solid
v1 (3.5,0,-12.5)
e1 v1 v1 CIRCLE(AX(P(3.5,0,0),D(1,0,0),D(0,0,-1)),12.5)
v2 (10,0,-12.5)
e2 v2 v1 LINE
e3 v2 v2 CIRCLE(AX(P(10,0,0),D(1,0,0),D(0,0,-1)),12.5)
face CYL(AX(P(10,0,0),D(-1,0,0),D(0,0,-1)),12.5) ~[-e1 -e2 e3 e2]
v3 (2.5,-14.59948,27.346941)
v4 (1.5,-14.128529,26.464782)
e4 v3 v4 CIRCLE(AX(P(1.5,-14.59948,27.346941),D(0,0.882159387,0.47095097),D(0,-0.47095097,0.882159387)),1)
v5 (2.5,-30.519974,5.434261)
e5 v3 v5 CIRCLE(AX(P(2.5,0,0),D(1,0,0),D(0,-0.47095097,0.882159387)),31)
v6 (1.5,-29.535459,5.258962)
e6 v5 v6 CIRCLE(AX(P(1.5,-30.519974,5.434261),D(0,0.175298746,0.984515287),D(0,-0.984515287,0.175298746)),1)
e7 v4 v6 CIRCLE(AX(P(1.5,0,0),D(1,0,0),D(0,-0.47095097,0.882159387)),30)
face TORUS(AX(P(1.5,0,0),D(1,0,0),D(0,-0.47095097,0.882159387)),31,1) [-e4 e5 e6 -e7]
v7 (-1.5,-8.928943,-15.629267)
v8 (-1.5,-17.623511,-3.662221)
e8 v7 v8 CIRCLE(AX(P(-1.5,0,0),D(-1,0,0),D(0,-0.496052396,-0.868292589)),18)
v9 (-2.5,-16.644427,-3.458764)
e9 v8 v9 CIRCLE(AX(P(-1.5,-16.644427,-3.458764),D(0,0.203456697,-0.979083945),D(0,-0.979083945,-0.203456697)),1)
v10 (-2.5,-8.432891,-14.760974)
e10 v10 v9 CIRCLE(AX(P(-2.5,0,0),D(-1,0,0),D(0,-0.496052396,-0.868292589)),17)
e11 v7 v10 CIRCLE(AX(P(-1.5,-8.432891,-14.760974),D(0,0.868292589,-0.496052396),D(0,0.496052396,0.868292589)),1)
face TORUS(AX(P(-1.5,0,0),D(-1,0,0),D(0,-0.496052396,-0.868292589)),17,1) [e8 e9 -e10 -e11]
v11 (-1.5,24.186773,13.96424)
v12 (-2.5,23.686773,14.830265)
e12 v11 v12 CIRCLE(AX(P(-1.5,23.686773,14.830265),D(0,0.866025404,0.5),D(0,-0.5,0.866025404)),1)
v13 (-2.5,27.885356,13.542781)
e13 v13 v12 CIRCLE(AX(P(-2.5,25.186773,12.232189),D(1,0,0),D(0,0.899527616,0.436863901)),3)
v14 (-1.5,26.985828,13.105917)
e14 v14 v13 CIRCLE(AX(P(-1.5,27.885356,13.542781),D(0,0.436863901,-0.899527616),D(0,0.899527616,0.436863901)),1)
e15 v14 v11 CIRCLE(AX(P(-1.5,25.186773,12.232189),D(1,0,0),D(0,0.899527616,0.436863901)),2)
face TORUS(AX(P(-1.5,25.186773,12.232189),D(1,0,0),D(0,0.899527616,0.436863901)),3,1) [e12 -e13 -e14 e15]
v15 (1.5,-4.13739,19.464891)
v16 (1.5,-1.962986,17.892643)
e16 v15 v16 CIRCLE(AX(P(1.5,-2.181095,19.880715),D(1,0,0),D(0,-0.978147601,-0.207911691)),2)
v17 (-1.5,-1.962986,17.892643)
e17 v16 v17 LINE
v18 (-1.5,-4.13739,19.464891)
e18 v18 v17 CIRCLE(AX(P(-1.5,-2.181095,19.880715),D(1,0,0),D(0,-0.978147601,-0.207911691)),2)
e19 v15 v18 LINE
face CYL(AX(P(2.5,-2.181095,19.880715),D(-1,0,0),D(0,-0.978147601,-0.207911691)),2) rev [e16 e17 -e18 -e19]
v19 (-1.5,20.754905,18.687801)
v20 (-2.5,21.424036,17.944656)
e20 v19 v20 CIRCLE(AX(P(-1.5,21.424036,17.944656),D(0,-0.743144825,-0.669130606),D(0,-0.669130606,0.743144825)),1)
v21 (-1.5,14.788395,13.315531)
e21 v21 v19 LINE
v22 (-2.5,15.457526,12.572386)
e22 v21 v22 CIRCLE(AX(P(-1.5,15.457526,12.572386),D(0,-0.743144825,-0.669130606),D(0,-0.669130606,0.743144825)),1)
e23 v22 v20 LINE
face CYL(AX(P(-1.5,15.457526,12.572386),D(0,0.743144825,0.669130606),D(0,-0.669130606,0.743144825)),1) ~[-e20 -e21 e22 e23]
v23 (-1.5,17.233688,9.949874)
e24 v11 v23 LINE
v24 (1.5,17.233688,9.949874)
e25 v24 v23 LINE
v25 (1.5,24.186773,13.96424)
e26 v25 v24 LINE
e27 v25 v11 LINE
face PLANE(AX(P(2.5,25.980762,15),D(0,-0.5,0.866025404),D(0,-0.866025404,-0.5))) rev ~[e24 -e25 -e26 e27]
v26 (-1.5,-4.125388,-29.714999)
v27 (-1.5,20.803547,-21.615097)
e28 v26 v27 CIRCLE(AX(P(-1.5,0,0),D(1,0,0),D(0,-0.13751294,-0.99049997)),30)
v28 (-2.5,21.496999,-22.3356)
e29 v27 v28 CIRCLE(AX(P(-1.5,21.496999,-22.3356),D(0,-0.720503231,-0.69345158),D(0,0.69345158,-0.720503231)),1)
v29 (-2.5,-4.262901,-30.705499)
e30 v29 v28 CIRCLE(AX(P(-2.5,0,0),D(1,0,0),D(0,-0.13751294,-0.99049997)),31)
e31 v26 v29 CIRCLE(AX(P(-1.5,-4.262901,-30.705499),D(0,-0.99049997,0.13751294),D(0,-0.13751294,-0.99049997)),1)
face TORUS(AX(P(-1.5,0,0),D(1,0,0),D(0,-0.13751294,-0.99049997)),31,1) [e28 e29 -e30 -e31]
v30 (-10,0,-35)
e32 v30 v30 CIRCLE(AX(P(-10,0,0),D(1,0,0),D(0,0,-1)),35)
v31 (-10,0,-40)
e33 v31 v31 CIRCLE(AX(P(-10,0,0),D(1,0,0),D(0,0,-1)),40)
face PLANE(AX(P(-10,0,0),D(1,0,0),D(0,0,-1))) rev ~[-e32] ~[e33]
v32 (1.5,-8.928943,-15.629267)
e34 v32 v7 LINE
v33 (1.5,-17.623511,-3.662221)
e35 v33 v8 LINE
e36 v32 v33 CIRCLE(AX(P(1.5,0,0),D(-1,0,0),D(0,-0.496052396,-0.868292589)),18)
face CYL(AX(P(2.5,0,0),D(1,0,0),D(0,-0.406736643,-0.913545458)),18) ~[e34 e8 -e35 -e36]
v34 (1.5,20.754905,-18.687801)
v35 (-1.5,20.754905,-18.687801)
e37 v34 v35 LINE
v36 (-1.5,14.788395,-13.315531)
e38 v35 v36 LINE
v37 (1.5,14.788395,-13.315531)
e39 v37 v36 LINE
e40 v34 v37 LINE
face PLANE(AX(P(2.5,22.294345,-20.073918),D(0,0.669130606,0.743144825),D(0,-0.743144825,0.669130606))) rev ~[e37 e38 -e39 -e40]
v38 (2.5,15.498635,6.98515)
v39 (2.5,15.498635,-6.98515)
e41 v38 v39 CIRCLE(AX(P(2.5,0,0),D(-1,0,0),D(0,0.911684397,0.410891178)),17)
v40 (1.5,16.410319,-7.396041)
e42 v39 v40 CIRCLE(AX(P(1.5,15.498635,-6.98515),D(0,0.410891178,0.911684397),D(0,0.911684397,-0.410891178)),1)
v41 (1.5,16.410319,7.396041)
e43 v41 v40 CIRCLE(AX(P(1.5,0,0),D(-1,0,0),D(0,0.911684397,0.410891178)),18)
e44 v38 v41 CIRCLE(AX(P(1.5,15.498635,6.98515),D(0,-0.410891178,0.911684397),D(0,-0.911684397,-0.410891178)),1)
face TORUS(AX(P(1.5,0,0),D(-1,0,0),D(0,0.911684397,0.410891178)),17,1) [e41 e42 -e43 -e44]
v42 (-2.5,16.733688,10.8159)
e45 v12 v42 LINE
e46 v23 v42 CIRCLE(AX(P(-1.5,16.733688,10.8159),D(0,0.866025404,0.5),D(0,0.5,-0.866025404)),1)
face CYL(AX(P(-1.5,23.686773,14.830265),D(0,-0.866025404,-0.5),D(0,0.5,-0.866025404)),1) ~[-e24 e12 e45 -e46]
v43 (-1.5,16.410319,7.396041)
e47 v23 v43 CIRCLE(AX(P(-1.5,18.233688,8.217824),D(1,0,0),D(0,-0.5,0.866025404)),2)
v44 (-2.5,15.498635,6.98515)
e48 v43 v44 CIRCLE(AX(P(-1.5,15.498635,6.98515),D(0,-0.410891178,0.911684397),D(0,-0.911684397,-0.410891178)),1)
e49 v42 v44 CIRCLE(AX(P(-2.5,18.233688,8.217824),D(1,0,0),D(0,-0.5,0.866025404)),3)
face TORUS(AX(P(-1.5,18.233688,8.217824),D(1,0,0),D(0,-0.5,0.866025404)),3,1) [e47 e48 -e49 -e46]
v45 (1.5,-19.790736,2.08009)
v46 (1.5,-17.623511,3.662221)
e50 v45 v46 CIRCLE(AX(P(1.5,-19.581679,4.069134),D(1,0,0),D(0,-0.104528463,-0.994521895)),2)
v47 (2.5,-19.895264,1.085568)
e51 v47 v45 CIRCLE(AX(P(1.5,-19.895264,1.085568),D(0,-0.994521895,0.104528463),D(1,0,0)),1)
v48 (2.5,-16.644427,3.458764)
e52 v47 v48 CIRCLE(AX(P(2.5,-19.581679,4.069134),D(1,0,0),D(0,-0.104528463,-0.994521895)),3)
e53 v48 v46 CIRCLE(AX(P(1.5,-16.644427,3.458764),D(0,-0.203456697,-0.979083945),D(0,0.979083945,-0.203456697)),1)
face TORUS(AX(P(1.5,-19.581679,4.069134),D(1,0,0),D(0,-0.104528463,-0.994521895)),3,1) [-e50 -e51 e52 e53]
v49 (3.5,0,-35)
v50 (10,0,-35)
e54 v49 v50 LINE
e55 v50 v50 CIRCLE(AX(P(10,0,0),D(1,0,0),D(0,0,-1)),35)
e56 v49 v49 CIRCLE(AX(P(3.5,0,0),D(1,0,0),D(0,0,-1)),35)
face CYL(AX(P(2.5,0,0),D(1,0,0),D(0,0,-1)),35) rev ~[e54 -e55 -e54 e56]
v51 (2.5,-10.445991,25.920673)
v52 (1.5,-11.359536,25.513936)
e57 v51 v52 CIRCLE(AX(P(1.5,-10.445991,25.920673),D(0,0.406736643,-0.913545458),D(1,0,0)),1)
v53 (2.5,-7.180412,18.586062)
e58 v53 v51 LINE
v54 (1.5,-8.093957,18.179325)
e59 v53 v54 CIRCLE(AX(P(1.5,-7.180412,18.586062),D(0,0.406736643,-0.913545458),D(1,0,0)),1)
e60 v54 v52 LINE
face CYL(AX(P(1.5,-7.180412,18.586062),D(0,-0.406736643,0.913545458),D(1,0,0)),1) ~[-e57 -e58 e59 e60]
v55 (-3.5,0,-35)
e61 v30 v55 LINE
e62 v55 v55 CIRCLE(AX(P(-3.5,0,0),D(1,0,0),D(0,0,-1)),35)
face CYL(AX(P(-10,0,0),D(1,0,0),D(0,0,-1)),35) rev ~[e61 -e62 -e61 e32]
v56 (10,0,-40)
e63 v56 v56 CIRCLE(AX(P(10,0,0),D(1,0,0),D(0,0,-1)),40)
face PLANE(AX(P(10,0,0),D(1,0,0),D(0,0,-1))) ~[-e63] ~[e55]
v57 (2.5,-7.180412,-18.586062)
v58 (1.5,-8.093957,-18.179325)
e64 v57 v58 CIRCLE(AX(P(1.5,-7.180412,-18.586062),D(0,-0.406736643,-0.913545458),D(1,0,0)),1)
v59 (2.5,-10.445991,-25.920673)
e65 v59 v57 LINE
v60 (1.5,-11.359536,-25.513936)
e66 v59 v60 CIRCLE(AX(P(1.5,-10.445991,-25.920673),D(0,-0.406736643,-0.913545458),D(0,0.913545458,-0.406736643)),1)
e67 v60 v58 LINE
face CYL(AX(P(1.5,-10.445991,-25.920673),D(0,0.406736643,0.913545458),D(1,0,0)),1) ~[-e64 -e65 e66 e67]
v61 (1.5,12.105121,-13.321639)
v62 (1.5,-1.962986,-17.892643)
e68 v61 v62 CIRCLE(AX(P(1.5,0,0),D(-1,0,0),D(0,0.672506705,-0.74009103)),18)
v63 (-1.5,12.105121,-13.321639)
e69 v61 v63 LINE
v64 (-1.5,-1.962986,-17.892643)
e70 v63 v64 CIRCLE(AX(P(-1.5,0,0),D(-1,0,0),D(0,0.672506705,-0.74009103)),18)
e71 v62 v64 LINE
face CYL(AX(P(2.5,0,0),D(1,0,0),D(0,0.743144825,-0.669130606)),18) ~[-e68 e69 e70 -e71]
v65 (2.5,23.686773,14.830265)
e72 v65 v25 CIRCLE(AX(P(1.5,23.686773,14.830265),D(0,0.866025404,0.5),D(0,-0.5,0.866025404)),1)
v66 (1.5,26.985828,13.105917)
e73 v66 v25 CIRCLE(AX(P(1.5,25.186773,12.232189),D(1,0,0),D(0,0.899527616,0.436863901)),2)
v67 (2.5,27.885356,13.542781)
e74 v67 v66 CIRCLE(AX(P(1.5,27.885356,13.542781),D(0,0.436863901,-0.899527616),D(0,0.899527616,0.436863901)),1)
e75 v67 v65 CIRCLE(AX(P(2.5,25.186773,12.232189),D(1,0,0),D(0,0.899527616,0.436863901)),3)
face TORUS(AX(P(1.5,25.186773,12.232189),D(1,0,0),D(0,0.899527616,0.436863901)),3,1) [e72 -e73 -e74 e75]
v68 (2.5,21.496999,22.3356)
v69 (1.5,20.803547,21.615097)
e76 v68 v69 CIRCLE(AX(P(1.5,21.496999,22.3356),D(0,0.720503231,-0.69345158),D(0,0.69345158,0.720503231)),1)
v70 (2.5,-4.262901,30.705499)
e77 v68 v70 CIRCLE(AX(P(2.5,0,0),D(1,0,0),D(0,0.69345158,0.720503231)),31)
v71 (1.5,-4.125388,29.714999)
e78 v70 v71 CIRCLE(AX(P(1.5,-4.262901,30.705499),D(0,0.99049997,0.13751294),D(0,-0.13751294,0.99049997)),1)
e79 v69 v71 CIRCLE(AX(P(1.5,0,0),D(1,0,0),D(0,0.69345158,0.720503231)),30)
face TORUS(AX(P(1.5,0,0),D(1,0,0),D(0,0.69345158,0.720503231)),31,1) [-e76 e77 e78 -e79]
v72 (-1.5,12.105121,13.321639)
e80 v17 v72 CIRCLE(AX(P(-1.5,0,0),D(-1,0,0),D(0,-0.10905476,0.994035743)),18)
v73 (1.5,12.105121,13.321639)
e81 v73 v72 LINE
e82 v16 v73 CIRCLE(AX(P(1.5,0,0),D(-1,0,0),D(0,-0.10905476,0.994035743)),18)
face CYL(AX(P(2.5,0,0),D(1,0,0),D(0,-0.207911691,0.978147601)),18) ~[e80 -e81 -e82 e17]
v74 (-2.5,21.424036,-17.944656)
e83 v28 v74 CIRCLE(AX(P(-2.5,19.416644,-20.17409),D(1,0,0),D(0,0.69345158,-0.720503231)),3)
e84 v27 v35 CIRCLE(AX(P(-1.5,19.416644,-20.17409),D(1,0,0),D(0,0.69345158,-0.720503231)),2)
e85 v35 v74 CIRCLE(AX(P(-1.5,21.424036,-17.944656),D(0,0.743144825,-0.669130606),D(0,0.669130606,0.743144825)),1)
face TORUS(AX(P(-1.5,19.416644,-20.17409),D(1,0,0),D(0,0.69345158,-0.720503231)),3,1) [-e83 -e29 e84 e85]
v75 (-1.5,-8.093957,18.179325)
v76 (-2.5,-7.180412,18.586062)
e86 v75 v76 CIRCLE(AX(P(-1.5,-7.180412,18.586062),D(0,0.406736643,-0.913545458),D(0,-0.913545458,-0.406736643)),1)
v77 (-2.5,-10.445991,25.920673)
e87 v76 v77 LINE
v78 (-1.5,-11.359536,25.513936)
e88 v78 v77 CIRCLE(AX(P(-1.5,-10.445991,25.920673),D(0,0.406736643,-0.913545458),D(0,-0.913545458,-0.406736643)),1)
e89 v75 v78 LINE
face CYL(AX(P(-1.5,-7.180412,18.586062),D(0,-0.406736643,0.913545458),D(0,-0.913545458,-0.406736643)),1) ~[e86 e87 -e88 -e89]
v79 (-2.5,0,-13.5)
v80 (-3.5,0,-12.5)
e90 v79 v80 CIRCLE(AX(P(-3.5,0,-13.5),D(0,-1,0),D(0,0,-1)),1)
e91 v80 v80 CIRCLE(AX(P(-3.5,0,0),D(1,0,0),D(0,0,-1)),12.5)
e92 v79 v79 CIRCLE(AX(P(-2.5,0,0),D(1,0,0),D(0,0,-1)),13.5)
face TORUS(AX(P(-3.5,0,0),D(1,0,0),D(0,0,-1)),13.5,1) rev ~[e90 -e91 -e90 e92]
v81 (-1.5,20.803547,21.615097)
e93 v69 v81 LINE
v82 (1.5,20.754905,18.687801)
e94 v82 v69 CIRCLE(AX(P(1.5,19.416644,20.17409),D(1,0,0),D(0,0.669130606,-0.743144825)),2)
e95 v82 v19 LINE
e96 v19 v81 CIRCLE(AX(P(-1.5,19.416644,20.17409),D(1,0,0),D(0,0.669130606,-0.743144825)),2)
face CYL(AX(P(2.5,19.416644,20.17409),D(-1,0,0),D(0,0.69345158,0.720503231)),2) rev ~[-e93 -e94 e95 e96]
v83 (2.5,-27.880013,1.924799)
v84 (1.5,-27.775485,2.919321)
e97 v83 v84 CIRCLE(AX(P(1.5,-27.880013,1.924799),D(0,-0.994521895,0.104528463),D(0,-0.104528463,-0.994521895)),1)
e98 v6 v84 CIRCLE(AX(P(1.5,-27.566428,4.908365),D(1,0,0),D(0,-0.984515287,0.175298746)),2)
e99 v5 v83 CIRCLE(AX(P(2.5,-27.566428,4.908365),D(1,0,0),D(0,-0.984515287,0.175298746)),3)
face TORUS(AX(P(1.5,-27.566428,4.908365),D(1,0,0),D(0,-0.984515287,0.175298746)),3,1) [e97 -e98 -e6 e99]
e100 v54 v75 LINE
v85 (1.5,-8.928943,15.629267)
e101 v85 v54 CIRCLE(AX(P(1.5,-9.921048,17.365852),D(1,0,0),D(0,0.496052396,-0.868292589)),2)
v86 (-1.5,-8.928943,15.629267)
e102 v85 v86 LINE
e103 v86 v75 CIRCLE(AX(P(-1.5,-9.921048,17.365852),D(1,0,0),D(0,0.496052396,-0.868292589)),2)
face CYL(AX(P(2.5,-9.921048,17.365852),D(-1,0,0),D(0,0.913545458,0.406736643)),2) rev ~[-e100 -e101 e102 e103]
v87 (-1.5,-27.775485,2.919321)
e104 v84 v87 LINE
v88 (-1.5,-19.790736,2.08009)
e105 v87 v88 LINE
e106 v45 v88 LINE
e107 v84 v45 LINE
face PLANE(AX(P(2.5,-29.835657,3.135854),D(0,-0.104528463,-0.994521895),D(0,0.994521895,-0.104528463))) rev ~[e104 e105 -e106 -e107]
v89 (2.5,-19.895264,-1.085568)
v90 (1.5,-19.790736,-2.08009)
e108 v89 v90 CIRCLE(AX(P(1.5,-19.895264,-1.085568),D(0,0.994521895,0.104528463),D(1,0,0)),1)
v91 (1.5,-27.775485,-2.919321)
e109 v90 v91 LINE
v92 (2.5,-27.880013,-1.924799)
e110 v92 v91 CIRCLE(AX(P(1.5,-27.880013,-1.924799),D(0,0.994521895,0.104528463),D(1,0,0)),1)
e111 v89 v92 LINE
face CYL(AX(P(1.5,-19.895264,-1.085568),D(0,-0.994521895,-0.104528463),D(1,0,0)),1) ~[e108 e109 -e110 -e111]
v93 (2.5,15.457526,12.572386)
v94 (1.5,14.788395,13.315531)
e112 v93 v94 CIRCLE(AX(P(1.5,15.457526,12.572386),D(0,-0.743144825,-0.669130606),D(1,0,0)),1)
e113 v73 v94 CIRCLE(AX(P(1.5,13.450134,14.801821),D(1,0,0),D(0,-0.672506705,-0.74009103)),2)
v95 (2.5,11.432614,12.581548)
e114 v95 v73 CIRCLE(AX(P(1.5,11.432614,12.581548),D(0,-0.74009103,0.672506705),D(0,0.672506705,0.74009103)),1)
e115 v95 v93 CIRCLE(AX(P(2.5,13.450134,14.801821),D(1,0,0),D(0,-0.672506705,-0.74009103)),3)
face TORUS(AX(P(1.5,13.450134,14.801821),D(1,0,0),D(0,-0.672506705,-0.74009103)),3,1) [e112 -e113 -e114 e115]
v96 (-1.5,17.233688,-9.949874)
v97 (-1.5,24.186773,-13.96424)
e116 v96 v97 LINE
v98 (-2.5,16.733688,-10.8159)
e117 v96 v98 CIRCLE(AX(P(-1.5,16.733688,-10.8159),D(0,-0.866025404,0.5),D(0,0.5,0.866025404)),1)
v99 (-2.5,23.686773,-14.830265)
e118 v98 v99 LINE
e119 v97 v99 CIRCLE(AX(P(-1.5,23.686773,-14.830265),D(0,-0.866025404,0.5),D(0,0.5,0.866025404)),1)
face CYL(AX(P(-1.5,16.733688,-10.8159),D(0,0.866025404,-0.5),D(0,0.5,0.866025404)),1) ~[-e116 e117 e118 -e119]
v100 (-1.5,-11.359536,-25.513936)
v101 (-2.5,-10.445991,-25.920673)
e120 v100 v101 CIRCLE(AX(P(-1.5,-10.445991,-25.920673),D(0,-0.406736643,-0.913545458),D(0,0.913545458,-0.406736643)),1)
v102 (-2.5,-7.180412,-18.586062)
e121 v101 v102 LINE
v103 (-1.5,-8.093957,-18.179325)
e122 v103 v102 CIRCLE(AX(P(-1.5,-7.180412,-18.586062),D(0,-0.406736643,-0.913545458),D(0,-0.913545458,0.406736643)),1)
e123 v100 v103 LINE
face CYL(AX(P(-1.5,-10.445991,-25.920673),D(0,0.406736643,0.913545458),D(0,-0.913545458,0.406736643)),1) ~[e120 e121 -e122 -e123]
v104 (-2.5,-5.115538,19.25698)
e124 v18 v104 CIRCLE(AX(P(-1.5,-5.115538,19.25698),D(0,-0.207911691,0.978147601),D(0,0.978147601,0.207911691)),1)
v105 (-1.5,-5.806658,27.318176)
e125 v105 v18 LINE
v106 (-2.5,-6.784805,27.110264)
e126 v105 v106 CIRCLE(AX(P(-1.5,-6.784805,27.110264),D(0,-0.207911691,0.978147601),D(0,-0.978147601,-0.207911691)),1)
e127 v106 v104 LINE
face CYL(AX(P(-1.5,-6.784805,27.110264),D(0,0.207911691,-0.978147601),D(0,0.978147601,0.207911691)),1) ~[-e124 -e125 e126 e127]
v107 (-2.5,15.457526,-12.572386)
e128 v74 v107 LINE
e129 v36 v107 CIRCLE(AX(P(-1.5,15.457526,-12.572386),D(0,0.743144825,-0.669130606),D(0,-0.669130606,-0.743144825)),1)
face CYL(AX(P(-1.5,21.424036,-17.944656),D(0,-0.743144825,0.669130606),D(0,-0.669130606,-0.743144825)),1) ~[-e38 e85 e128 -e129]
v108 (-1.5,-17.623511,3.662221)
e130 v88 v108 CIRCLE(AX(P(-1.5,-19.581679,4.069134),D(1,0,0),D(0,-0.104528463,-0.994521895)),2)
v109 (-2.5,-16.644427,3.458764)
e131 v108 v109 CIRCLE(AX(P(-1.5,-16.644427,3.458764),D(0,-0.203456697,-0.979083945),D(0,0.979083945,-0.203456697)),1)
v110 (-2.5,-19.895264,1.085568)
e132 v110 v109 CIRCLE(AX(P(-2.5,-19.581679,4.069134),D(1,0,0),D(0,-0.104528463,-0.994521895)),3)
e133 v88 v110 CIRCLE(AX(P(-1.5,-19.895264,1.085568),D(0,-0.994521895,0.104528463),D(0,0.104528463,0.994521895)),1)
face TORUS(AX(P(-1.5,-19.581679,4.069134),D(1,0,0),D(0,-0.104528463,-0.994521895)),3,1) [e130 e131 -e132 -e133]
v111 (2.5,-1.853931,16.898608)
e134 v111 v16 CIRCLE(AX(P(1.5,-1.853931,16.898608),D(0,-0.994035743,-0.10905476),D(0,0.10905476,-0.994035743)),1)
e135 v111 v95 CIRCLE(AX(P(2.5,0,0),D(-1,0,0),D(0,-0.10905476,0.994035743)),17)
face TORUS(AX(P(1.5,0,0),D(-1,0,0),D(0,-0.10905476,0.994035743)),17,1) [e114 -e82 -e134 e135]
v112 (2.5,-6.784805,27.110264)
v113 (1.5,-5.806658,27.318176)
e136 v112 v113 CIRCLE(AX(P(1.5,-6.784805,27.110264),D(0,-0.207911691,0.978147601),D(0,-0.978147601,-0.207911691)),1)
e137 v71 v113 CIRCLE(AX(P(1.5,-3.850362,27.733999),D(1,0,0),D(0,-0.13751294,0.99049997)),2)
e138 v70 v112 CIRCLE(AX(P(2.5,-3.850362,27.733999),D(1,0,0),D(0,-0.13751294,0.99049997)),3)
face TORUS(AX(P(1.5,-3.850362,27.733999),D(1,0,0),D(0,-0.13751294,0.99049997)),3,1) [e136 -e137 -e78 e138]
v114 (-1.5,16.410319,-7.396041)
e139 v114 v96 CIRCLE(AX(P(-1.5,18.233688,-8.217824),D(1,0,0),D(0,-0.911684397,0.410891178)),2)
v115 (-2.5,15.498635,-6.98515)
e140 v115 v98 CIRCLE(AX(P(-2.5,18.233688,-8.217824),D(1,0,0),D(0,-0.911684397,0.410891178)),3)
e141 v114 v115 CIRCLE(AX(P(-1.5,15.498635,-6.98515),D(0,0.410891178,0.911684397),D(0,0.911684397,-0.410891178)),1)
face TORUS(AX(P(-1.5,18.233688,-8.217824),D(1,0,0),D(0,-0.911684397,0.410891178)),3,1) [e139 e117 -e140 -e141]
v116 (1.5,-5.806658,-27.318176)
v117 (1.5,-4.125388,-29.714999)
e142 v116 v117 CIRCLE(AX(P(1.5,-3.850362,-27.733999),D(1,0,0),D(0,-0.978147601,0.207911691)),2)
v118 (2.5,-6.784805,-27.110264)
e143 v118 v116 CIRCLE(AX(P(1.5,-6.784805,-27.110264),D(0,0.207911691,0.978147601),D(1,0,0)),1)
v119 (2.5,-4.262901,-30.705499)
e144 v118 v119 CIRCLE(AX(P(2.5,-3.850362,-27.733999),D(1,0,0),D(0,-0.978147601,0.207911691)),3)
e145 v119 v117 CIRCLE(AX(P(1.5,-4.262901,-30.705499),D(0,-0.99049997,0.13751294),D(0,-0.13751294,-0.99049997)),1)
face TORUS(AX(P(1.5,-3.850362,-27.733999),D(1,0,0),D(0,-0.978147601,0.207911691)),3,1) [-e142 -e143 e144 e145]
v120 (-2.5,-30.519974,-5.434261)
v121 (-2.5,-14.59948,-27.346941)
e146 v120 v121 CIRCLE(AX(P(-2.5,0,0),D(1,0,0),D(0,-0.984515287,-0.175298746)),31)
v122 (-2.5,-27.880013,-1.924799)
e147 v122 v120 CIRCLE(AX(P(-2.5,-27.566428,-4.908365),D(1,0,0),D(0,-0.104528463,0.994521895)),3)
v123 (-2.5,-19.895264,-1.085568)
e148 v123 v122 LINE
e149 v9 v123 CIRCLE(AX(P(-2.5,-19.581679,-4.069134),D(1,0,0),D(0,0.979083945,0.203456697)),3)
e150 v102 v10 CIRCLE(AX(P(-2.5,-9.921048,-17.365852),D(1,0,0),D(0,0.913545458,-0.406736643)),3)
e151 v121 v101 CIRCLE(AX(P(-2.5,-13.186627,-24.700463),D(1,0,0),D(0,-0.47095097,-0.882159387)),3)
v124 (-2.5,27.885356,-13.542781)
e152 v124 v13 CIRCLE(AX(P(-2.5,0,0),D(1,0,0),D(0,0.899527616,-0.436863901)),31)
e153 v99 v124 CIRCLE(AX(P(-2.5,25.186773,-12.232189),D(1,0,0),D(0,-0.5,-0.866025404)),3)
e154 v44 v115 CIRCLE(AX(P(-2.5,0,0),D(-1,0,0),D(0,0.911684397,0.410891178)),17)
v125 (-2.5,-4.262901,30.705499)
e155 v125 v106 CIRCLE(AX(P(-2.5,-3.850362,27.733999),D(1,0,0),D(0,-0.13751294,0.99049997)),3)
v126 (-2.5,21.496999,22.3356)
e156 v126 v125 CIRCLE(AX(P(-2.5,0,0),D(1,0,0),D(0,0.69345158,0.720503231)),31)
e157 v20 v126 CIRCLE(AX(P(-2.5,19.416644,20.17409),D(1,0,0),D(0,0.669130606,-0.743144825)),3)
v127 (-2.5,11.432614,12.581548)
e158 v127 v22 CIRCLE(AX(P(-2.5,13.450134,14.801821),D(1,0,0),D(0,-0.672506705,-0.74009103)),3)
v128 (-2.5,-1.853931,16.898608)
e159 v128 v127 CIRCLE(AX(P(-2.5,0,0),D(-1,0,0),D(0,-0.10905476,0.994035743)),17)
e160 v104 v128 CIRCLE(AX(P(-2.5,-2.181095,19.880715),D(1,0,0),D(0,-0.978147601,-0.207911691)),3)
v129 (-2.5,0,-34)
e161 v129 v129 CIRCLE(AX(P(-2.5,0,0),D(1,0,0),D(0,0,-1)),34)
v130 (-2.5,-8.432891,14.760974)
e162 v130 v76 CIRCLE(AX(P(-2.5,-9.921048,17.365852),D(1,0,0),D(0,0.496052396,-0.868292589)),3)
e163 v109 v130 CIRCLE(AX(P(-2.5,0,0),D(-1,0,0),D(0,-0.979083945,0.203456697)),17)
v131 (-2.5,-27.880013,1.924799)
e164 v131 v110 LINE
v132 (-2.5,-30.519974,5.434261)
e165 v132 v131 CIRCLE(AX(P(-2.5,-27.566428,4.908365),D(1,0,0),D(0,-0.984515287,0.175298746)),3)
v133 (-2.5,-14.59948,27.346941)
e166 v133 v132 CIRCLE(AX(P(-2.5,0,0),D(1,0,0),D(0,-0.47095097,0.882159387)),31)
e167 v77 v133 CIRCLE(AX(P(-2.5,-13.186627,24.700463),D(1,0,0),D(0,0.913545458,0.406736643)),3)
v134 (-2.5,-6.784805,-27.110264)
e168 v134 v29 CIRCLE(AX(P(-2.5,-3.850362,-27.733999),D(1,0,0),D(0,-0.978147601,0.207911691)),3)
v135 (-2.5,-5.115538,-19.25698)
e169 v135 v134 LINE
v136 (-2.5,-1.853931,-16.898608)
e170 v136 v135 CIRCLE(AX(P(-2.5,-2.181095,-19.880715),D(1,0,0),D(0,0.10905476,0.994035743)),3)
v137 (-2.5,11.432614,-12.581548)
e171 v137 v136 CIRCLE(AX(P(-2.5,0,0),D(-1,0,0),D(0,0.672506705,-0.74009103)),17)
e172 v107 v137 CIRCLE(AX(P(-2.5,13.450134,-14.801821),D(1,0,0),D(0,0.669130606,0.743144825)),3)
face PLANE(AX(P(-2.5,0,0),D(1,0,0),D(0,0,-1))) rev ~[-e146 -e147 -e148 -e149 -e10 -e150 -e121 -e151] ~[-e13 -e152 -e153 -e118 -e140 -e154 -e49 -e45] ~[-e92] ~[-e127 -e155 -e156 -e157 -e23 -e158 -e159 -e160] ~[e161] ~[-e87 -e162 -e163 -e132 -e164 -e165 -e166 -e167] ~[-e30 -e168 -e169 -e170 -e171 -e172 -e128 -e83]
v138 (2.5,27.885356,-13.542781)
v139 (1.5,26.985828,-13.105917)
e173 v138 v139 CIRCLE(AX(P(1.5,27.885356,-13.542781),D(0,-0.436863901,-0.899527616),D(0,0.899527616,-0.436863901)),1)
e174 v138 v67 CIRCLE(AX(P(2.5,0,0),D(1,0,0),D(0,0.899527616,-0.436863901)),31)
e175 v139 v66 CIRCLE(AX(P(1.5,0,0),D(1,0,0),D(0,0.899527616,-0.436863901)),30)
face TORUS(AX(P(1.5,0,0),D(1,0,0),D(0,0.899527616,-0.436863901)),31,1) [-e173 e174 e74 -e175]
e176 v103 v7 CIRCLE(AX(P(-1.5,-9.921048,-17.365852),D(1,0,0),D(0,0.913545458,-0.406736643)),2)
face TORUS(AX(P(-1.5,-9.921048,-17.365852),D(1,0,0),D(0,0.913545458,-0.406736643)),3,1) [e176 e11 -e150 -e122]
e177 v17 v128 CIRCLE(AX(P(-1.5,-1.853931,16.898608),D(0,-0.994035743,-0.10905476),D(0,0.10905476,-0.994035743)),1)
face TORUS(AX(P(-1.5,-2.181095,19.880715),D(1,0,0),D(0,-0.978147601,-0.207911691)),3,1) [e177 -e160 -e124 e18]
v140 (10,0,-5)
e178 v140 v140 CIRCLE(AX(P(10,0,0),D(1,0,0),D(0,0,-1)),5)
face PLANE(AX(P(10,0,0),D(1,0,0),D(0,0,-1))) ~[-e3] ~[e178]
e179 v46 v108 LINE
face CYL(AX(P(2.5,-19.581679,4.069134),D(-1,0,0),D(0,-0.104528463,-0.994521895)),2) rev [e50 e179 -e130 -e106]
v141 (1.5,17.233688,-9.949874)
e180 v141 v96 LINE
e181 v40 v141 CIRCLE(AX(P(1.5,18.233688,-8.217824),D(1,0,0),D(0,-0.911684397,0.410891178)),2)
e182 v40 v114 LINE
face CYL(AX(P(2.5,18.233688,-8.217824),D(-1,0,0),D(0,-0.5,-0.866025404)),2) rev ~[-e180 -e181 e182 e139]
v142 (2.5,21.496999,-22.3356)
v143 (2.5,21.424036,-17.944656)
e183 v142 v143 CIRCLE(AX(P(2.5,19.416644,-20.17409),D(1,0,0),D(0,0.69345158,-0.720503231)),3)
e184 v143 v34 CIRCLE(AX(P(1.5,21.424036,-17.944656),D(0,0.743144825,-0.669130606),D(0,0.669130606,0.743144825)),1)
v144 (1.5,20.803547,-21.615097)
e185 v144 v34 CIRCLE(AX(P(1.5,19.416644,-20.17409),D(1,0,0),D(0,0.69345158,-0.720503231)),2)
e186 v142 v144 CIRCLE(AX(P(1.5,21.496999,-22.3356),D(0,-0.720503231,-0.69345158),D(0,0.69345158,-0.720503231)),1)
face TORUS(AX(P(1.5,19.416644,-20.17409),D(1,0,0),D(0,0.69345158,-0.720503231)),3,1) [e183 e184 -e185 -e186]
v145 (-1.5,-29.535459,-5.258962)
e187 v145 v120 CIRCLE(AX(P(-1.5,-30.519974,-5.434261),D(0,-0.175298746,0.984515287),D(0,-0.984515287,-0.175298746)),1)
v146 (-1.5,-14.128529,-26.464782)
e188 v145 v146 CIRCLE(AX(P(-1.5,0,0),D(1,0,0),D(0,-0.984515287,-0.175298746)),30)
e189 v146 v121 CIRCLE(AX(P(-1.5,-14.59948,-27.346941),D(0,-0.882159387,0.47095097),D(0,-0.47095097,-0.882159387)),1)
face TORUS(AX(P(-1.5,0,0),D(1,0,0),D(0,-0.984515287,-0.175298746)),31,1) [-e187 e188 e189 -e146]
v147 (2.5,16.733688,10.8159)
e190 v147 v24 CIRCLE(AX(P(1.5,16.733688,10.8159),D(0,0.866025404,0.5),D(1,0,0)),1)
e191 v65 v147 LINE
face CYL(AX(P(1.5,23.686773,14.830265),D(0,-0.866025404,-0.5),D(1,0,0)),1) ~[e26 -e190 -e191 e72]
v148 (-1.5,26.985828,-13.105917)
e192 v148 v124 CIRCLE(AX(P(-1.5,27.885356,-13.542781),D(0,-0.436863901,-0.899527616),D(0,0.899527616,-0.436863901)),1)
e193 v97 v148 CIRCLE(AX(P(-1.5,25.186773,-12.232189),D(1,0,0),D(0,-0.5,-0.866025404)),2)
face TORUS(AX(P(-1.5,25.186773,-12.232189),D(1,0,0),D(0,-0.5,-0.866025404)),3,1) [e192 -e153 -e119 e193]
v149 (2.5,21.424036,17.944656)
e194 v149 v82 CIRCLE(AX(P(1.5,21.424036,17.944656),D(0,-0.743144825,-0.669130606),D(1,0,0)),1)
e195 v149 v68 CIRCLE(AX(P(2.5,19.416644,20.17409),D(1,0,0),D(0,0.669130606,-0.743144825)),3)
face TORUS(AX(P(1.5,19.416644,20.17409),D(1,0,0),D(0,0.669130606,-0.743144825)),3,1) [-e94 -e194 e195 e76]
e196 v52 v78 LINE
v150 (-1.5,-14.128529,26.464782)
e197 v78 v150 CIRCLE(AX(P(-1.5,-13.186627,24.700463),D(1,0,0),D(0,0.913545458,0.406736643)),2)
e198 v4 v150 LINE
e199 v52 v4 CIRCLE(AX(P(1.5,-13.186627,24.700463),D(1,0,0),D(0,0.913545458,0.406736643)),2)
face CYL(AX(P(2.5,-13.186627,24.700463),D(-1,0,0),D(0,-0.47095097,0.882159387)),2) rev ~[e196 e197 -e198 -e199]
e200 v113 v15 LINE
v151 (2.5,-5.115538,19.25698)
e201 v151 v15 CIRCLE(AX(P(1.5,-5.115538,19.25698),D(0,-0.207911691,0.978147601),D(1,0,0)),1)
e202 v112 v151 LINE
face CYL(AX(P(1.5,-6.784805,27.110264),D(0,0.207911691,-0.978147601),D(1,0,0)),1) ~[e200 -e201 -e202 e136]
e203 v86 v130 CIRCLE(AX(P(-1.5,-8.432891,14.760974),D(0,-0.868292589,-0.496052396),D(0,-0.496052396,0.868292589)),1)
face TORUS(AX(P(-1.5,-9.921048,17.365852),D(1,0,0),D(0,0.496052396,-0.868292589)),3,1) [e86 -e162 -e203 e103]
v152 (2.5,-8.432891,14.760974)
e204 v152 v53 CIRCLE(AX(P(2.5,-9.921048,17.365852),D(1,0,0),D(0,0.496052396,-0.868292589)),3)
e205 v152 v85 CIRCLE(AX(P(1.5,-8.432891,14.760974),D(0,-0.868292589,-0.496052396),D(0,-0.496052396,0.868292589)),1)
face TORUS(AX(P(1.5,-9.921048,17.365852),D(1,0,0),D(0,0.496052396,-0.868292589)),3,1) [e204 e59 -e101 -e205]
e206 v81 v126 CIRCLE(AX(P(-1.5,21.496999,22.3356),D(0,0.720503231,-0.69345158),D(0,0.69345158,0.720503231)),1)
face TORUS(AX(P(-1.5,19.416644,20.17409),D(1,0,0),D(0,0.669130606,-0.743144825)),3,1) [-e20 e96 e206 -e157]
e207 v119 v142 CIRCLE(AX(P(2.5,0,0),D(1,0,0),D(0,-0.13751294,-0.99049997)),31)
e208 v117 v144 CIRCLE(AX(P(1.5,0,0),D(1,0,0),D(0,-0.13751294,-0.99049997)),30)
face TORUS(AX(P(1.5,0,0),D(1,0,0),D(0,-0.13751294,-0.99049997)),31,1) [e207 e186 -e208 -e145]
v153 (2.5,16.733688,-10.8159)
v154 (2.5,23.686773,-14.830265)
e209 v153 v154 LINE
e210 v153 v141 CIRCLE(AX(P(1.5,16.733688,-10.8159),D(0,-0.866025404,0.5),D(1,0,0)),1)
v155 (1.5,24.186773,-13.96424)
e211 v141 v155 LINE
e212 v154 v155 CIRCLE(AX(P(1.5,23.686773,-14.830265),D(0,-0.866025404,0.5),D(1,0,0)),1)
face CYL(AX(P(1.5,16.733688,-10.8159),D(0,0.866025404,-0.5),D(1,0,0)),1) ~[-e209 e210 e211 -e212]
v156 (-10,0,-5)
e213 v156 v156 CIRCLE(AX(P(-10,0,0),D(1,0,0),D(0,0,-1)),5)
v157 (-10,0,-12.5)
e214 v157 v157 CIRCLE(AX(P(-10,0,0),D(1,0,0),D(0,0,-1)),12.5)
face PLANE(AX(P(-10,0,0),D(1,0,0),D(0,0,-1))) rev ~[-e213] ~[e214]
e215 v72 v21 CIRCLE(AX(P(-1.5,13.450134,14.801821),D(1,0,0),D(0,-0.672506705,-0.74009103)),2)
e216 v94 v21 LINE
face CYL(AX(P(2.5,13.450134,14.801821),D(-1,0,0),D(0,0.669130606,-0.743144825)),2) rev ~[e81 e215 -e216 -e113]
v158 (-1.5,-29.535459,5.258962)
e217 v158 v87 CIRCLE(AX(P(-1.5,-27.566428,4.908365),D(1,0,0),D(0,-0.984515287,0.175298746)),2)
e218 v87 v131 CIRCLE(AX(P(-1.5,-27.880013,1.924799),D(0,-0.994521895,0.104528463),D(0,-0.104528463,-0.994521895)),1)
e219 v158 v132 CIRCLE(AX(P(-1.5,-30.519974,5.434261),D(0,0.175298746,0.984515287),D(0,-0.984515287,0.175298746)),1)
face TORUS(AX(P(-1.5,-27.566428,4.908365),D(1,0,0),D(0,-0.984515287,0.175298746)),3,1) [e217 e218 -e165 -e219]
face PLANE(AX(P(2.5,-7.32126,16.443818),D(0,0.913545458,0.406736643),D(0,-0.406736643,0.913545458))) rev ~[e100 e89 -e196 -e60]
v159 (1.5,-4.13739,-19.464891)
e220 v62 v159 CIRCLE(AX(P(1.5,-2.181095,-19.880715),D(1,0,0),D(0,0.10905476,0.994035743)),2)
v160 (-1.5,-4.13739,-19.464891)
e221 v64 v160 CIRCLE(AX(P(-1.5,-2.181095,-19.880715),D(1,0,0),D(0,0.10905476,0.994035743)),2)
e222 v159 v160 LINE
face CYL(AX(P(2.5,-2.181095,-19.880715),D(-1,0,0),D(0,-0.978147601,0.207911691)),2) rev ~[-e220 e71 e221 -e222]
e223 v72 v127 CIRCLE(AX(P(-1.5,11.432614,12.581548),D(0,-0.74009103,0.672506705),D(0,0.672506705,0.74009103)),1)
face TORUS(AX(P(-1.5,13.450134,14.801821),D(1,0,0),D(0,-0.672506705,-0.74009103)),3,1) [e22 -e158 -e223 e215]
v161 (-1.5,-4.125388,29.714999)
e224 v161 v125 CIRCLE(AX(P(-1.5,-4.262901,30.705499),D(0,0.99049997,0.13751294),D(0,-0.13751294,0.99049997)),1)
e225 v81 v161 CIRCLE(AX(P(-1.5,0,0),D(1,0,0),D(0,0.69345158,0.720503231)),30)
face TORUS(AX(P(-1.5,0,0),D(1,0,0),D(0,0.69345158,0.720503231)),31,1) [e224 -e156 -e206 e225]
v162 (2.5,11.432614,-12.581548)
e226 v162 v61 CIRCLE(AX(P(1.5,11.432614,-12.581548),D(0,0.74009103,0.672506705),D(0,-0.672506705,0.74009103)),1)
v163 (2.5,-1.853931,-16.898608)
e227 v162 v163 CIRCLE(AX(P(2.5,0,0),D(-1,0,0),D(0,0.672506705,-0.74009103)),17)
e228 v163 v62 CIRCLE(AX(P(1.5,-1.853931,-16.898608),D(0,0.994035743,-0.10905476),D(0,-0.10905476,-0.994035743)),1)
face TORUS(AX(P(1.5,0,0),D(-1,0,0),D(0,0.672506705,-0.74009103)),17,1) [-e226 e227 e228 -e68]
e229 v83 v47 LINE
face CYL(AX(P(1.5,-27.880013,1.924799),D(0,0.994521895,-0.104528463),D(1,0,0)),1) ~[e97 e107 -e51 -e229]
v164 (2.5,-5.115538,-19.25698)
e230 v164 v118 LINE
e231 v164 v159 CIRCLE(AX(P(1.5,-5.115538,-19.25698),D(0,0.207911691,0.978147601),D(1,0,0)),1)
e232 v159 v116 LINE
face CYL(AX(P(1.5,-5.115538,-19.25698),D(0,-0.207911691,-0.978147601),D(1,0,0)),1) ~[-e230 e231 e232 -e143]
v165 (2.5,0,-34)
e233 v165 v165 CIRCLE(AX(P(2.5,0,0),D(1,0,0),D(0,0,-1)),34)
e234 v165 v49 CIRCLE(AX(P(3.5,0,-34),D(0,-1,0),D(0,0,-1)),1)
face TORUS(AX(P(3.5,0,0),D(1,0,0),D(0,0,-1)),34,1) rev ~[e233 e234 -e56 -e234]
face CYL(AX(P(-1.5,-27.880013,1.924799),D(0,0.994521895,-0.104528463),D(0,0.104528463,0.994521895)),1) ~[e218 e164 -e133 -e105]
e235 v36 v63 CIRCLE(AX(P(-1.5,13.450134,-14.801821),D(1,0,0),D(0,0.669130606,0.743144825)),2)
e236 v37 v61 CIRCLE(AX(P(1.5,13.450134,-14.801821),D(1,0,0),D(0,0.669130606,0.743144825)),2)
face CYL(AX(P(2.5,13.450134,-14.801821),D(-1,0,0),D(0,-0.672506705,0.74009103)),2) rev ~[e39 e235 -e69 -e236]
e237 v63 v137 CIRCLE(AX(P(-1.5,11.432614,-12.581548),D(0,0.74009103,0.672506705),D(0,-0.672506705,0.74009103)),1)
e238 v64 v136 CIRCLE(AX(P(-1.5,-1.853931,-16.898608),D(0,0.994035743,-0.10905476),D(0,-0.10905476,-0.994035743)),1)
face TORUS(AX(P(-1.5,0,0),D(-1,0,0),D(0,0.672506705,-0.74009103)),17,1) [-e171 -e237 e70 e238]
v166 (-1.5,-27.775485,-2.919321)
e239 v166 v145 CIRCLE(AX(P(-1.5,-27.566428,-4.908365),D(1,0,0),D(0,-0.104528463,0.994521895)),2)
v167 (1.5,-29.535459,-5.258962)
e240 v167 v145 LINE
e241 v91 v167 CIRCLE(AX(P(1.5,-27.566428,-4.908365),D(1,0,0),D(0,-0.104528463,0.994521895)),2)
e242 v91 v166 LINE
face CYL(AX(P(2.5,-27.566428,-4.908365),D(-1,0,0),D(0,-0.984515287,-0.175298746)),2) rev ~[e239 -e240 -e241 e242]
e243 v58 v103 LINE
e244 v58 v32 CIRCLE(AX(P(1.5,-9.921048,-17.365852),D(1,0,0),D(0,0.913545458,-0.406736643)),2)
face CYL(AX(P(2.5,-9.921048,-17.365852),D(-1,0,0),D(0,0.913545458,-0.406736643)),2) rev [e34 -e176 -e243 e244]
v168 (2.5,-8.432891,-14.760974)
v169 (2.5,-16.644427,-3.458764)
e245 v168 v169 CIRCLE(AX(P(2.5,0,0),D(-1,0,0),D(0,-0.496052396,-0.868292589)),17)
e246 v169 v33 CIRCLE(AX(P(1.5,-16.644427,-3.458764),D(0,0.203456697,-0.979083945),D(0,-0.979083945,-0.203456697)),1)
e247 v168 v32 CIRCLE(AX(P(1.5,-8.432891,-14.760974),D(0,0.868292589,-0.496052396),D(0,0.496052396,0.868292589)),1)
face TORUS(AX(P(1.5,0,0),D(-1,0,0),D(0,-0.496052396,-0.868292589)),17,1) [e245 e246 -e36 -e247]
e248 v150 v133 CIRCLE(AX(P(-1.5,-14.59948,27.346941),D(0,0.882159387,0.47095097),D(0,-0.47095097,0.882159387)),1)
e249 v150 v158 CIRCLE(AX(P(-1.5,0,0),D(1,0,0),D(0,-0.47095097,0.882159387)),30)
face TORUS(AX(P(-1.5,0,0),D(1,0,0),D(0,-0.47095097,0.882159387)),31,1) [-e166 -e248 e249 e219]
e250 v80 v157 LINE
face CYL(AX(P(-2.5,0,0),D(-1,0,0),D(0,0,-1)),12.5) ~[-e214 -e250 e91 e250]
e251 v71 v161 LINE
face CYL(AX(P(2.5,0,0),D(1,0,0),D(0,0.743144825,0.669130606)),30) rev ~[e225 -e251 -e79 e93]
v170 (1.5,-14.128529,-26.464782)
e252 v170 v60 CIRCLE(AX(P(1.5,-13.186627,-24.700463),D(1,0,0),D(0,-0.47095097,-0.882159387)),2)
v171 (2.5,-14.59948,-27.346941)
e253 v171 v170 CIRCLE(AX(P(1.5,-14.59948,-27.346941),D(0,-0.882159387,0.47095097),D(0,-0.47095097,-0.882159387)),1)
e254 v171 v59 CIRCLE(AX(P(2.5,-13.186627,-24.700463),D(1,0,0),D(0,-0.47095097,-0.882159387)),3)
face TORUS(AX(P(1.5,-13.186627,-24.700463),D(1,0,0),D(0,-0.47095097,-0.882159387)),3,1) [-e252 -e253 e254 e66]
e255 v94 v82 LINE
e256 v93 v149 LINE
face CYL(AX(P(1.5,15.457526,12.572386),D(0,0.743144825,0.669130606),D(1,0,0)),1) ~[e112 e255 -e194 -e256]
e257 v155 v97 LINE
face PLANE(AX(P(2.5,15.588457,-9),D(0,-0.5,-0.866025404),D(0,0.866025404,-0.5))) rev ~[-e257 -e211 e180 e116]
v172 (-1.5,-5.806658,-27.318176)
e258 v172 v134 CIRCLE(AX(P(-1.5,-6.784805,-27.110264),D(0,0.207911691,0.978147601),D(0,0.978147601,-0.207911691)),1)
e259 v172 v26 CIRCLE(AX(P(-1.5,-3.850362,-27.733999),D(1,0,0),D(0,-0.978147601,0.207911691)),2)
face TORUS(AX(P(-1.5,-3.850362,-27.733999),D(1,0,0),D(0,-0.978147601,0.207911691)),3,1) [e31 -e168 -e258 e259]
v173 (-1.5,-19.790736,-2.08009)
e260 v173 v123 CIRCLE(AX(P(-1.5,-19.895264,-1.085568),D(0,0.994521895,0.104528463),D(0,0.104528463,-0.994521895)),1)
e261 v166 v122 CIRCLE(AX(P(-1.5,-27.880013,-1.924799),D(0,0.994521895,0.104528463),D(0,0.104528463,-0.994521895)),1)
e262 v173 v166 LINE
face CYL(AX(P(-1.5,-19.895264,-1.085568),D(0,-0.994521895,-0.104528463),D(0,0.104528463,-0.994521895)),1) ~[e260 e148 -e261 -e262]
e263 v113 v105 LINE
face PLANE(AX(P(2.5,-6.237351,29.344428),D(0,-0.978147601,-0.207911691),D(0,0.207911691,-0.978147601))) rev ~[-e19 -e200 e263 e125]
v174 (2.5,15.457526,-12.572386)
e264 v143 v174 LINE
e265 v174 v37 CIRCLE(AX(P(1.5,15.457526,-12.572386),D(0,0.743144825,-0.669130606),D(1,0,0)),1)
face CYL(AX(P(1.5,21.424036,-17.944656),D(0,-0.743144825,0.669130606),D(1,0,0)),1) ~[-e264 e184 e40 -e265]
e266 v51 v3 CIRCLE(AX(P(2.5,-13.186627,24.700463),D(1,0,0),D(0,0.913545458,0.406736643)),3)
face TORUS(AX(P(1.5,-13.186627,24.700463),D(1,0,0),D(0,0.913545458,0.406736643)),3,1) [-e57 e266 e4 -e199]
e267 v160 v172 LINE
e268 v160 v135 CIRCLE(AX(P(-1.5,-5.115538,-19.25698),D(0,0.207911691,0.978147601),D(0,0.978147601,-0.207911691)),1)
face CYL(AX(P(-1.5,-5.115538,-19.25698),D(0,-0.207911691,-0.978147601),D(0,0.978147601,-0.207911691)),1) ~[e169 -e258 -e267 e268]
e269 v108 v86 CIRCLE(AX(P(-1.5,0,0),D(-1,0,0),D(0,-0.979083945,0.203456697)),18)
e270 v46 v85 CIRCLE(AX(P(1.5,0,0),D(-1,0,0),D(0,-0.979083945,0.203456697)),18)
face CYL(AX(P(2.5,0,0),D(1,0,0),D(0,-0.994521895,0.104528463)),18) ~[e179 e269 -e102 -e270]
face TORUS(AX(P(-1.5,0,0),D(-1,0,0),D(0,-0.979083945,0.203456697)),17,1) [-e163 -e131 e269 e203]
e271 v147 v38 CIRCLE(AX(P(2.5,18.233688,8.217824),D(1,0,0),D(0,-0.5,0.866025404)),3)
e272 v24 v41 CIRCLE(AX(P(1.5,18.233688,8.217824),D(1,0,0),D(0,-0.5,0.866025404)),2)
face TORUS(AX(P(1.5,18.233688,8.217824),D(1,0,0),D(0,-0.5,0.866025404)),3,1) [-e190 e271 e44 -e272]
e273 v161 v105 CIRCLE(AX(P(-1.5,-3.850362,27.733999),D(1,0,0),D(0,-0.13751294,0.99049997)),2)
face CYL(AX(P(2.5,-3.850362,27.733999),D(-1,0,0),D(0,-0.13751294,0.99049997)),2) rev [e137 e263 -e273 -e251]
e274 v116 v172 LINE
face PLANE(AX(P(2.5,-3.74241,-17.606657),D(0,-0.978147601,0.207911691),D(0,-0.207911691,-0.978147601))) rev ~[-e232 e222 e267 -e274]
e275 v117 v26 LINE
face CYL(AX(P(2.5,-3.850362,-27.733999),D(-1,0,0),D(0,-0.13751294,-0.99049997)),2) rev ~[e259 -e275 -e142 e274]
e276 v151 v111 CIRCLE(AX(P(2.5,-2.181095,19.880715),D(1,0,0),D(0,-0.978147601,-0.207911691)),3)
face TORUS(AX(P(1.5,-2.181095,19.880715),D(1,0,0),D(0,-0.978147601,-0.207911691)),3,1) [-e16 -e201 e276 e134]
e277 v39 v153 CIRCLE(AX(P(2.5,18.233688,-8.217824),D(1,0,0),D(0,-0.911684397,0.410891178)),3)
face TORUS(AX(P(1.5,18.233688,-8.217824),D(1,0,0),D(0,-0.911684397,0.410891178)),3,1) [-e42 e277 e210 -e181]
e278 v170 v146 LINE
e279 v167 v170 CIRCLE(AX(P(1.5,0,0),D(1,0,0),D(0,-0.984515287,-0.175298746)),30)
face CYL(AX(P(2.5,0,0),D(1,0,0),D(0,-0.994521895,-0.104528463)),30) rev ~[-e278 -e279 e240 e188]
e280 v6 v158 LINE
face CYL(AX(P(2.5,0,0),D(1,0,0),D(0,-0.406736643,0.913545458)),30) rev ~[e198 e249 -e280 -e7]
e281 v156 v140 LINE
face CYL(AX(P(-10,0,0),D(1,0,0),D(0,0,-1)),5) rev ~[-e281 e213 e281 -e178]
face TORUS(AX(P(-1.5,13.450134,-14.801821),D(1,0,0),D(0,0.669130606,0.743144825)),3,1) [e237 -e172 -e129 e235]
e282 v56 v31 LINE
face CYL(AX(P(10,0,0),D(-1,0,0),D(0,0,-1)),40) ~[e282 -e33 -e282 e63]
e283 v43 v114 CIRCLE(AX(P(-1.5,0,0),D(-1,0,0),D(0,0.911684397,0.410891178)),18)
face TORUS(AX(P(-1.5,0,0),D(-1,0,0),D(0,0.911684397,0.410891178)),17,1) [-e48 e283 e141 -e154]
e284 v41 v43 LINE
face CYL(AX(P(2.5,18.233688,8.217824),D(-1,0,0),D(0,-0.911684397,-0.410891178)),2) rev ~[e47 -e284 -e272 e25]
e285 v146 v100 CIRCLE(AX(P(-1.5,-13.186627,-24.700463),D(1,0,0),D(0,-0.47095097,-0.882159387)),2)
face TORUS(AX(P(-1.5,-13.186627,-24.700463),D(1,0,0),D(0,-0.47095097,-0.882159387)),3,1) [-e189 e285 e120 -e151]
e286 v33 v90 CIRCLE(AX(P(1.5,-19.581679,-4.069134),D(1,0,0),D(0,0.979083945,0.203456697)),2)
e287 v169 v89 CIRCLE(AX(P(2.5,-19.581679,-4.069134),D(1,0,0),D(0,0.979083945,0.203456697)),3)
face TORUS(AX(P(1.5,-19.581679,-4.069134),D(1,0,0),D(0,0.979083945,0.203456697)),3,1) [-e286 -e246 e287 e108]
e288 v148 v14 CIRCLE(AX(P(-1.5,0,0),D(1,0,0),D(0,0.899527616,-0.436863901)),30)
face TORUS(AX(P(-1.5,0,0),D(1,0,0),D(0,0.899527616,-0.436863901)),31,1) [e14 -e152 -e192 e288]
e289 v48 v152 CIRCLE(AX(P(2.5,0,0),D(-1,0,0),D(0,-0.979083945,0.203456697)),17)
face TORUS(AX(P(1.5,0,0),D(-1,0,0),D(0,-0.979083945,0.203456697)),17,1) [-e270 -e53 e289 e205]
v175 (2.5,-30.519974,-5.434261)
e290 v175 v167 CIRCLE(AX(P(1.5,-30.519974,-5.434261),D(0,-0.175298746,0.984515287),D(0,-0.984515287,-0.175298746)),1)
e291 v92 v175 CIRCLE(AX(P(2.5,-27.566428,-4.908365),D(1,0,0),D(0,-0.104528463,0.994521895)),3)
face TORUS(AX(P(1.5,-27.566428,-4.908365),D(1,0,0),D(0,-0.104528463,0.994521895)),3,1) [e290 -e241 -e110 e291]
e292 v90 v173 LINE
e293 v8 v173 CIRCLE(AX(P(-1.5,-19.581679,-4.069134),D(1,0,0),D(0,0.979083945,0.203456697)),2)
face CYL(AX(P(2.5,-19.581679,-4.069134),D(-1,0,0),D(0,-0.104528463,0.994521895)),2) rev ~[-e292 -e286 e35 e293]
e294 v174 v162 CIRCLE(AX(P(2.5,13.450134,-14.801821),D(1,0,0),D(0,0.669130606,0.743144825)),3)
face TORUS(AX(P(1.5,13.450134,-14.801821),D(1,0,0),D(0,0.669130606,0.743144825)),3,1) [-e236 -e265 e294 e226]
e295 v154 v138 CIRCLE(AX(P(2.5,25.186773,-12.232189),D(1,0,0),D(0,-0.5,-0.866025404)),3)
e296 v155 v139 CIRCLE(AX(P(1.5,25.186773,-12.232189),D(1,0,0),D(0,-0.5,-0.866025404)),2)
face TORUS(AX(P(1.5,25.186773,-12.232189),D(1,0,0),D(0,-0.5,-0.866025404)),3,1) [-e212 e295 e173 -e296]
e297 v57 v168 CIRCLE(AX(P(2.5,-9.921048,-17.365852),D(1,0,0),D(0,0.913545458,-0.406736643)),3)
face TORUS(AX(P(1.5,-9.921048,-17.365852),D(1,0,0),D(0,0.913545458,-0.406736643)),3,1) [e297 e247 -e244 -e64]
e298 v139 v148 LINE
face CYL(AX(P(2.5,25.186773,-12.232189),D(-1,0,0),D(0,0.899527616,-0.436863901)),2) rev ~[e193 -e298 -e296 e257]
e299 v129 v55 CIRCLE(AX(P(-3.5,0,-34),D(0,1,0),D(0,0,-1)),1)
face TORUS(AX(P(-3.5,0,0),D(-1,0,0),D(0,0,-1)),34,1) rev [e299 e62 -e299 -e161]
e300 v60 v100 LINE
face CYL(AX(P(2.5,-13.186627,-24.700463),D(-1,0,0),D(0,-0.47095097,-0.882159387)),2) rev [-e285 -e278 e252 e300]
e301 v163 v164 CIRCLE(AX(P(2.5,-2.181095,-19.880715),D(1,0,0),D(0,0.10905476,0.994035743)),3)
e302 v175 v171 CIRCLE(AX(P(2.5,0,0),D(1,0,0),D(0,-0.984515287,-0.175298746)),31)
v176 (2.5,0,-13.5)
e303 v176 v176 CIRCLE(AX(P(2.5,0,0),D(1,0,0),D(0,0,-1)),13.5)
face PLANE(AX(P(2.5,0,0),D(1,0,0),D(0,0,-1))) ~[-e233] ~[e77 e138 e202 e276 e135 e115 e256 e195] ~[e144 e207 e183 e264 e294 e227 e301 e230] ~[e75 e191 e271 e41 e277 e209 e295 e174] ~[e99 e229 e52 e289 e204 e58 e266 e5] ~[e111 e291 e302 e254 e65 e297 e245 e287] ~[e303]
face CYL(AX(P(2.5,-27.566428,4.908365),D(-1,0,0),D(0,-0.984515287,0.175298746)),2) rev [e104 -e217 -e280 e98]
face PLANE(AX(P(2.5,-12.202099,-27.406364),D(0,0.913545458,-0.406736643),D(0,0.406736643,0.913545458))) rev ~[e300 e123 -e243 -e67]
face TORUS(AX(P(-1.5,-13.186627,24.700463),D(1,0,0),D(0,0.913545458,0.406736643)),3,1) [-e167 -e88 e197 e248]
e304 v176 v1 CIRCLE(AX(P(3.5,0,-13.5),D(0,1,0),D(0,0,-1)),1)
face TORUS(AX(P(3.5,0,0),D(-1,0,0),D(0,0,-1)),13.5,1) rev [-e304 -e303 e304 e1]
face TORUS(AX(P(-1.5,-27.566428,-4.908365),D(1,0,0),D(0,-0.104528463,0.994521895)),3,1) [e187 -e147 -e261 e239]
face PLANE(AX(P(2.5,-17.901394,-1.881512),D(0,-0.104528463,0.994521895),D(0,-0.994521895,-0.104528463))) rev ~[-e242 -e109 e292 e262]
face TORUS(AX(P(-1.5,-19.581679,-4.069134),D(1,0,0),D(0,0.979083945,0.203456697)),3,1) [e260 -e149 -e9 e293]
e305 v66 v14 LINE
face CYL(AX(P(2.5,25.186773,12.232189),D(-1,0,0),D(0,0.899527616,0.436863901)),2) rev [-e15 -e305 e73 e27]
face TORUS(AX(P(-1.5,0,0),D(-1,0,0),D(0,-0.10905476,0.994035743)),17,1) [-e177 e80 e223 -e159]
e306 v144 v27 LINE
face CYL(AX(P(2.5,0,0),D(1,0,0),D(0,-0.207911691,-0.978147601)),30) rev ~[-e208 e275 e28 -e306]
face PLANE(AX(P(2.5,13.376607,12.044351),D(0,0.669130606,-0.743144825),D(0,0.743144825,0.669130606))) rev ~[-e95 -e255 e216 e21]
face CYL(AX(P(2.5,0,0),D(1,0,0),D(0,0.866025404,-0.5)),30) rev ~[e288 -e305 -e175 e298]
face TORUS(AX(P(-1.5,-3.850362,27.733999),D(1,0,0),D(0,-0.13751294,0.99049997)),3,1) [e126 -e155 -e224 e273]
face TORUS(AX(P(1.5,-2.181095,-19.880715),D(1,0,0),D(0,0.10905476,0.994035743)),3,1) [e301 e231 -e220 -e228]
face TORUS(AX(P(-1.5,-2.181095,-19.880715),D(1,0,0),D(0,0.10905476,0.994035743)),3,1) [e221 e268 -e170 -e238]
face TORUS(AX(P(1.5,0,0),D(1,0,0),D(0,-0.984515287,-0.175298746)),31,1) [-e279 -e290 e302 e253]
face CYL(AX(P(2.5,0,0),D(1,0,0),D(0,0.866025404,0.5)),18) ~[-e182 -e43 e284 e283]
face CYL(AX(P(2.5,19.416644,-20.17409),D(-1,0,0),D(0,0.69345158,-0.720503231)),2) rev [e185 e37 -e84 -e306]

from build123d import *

# Parameters (mm, degrees)
CUT_EXTRUDE2_DEPTH       = 13.5
FILLET2_R                = 2
CIRPATTERN1_COUNT        = 5
FILLET2_OF_CIRPATTERN1_R = 2
FILLET3_R                = 1


with BuildPart() as part:
    # Sketch1 → Revolve1 (revolve)
    with BuildSketch(Plane(origin=(0, 0, 0), x_dir=(1, 0, 0), z_dir=(0, 1, 0))):
        Polygon((2.5, 35), (10, 35), (10, 40), (-10, 40), (-10, 35), (-2.5, 35), (-2.5, 12.5), (-10, 12.5), (-10, 5), (10, 5), (10, 12.5), (2.5, 12.5), align=None)
    revolve(axis=Axis((0, 0, 0), (1, 0, 0)))

    # Sketch4 → Cut-Extrude2 (cut, through all)
    with BuildSketch(Plane(origin=(2.5, 0, 0), x_dir=(0, 0, -1), z_dir=(1, 0, 0))):
        with BuildLine():
            Line((-15, 25.980762114), (-9, 15.588457268))
            ThreePointArc((-9, 15.588457268), (0, 18), (9, 15.588457268))
            Line((9, 15.588457268), (15, 25.980762114))
            ThreePointArc((15, 25.980762114), (0, 30), (-15, 25.980762114))
        make_face()
    cut_extrude2 = extrude(amount=-CUT_EXTRUDE2_DEPTH, mode=Mode.SUBTRACT)

    # Fillet2
    fillet2_edges = [part.edges().sort_by_distance(p)[0] for p in [
        (0, 15.588457268, -9),
        (0, 15.588457268, 9),
        (0, 25.980762114, 15),
        (0, 25.980762114, -15),
    ]]
    fillet(fillet2_edges, radius=FILLET2_R)

    # CirPattern1: Cut-Extrude2 ×5 about axis
    cirpattern1_axis = Axis((0, 0, 0), (1, 0, 0))
    for i in range(1, CIRPATTERN1_COUNT):
        add(cut_extrude2.rotate(cirpattern1_axis, i * 360 / CIRPATTERN1_COUNT), mode=Mode.SUBTRACT)

    # Fillet2 of CirPattern1
    fillet2_of_cirpattern1_edges = [part.edges().sort_by_distance(p)[0] for p in [
        (0, 13.376606859, 12.044350914),
        (0, -3.742410435, 17.606656813),
        (0, -6.237350725, 29.344428022),
        (0, 22.294344764, 20.073918191),
        (0, -7.321259575, 16.443818238),
        (0, -17.901394117, 1.881512339),
        (0, -29.835656861, 3.135853898),
        (0, -12.202099292, 27.406363729),
        (0, -17.901394117, -1.881512339),
        (0, -7.321259575, -16.443818238),
        (0, -12.202099292, -27.406363729),
        (0, -29.835656861, -3.135853898),
        (0, -3.742410435, -17.606656813),
        (0, 13.376606859, -12.044350914),
        (0, 22.294344764, -20.073918191),
        (0, -6.237350725, -29.344428022),
    ]]
    fillet(fillet2_of_cirpattern1_edges, radius=FILLET2_OF_CIRPATTERN1_R)

    # Fillet3
    fillet3_edges = [part.edges().sort_by_distance(p)[0] for p in [
        (2.5, 0, 35),
        (2.5, 0, 12.5),
        (-2.5, 0, 12.5),
        (-2.5, 0, 35),
        (2.5, -4.972023962, -23.391533639),
        (-2.5, -4.972023962, -23.391533639),
        (2.5, 5.562305899, -17.119017293),
        (-2.5, 5.562305899, -17.119017293),
        (2.5, 17.771650383, -16.001665879),
        (-2.5, 17.771650383, -16.001665879),
        (-2.5, 9.270509831, -28.531695489),
        (2.5, 9.270509831, -28.531695489),
        (2.5, -3.352979753, -18.260009279),
        (-2.5, -3.352979753, -18.260009279),
        (2.5, 13.445581763, -12.801825774),
        (-2.5, 13.445581763, -12.801825774),
        (2.5, -5.487704354, -28.882524769),
        (-2.5, -5.487704354, -28.882524769),
        (2.5, 21.416368191, -20.14086169),
        (-2.5, 21.416368191, -20.14086169),
        (2.5, -23.783110394, -2.49970563),
        (-2.5, -23.783110394, -2.49970563),
        (2.5, -14.562305899, -10.580134541),
        (-2.5, -14.562305899, -10.580134541),
        (2.5, -9.726746619, -21.846630597),
        (-2.5, -9.726746619, -21.846630597),
        (-2.5, -24.270509831, -17.633557569),
        (2.5, -24.270509831, -17.633557569),
        (2.5, -18.402428538, -2.453779941),
        (-2.5, -18.402428538, -2.453779941),
        (2.5, -8.020346559, -16.743489875),
        (-2.5, -8.020346559, -16.743489875),
        (2.5, -29.164707294, -3.706074009),
        (-2.5, -29.164707294, -3.706074009),
        (2.5, -12.537076026, -26.592045067),
        (-2.5, -12.537076026, -26.592045067),
        (2.5, -9.726746619, 21.846630597),
        (-2.5, -9.726746619, 21.846630597),
        (2.5, -14.562305899, 10.580134541),
        (-2.5, -14.562305899, 10.580134541),
        (2.5, -23.783110394, 2.49970563),
        (-2.5, -23.783110394, 2.49970563),
        (-2.5, -24.270509831, 17.633557569),
        (2.5, -24.270509831, 17.633557569),
        (2.5, -8.020346559, 16.743489875),
        (-2.5, -8.020346559, 16.743489875),
        (2.5, -18.402428538, 2.453779941),
        (-2.5, -18.402428538, 2.453779941),
        (2.5, -12.537076026, 26.592045067),
        (-2.5, -12.537076026, 26.592045067),
        (2.5, -29.164707294, 3.706074009),
        (-2.5, -29.164707294, 3.706074009),
        (2.5, 17.771650383, 16.001665879),
        (-2.5, 17.771650383, 16.001665879),
        (2.5, 5.562305899, 17.119017293),
        (-2.5, 5.562305899, 17.119017293),
        (2.5, -4.972023962, 23.391533639),
        (-2.5, -4.972023962, 23.391533639),
        (-2.5, 9.270509831, 28.531695489),
        (2.5, 9.270509831, 28.531695489),
        (2.5, 13.445581763, 12.801825774),
        (-2.5, 13.445581763, 12.801825774),
        (2.5, -3.352979753, 18.260009279),
        (-2.5, -3.352979753, 18.260009279),
        (2.5, 21.416368191, 20.14086169),
        (-2.5, 21.416368191, 20.14086169),
        (2.5, -5.487704354, 28.882524769),
        (-2.5, -5.487704354, 28.882524769),
        (2.5, 20.710230592, -11.957057207),
        (-2.5, 20.710230592, -11.957057207),
        (2.5, 18, 0),
        (-2.5, 18, 0),
        (2.5, 20.710230592, 11.957057207),
        (-2.5, 20.710230592, 11.957057207),
        (-2.5, 30, 0),
        (2.5, 30, 0),
        (2.5, 16.330173087, -8.831526428),
        (-2.5, 16.330173087, -8.831526428),
        (2.5, 16.330173087, 8.831526428),
        (-2.5, 16.330173087, 8.831526428),
        (2.5, 25.773119483, -14.14430798),
        (-2.5, 25.773119483, -14.14430798),
        (2.5, 25.773119483, 14.14430798),
        (-2.5, 25.773119483, 14.14430798),
    ]]
    fillet(fillet3_edges, radius=FILLET3_R)


solid = part.part
